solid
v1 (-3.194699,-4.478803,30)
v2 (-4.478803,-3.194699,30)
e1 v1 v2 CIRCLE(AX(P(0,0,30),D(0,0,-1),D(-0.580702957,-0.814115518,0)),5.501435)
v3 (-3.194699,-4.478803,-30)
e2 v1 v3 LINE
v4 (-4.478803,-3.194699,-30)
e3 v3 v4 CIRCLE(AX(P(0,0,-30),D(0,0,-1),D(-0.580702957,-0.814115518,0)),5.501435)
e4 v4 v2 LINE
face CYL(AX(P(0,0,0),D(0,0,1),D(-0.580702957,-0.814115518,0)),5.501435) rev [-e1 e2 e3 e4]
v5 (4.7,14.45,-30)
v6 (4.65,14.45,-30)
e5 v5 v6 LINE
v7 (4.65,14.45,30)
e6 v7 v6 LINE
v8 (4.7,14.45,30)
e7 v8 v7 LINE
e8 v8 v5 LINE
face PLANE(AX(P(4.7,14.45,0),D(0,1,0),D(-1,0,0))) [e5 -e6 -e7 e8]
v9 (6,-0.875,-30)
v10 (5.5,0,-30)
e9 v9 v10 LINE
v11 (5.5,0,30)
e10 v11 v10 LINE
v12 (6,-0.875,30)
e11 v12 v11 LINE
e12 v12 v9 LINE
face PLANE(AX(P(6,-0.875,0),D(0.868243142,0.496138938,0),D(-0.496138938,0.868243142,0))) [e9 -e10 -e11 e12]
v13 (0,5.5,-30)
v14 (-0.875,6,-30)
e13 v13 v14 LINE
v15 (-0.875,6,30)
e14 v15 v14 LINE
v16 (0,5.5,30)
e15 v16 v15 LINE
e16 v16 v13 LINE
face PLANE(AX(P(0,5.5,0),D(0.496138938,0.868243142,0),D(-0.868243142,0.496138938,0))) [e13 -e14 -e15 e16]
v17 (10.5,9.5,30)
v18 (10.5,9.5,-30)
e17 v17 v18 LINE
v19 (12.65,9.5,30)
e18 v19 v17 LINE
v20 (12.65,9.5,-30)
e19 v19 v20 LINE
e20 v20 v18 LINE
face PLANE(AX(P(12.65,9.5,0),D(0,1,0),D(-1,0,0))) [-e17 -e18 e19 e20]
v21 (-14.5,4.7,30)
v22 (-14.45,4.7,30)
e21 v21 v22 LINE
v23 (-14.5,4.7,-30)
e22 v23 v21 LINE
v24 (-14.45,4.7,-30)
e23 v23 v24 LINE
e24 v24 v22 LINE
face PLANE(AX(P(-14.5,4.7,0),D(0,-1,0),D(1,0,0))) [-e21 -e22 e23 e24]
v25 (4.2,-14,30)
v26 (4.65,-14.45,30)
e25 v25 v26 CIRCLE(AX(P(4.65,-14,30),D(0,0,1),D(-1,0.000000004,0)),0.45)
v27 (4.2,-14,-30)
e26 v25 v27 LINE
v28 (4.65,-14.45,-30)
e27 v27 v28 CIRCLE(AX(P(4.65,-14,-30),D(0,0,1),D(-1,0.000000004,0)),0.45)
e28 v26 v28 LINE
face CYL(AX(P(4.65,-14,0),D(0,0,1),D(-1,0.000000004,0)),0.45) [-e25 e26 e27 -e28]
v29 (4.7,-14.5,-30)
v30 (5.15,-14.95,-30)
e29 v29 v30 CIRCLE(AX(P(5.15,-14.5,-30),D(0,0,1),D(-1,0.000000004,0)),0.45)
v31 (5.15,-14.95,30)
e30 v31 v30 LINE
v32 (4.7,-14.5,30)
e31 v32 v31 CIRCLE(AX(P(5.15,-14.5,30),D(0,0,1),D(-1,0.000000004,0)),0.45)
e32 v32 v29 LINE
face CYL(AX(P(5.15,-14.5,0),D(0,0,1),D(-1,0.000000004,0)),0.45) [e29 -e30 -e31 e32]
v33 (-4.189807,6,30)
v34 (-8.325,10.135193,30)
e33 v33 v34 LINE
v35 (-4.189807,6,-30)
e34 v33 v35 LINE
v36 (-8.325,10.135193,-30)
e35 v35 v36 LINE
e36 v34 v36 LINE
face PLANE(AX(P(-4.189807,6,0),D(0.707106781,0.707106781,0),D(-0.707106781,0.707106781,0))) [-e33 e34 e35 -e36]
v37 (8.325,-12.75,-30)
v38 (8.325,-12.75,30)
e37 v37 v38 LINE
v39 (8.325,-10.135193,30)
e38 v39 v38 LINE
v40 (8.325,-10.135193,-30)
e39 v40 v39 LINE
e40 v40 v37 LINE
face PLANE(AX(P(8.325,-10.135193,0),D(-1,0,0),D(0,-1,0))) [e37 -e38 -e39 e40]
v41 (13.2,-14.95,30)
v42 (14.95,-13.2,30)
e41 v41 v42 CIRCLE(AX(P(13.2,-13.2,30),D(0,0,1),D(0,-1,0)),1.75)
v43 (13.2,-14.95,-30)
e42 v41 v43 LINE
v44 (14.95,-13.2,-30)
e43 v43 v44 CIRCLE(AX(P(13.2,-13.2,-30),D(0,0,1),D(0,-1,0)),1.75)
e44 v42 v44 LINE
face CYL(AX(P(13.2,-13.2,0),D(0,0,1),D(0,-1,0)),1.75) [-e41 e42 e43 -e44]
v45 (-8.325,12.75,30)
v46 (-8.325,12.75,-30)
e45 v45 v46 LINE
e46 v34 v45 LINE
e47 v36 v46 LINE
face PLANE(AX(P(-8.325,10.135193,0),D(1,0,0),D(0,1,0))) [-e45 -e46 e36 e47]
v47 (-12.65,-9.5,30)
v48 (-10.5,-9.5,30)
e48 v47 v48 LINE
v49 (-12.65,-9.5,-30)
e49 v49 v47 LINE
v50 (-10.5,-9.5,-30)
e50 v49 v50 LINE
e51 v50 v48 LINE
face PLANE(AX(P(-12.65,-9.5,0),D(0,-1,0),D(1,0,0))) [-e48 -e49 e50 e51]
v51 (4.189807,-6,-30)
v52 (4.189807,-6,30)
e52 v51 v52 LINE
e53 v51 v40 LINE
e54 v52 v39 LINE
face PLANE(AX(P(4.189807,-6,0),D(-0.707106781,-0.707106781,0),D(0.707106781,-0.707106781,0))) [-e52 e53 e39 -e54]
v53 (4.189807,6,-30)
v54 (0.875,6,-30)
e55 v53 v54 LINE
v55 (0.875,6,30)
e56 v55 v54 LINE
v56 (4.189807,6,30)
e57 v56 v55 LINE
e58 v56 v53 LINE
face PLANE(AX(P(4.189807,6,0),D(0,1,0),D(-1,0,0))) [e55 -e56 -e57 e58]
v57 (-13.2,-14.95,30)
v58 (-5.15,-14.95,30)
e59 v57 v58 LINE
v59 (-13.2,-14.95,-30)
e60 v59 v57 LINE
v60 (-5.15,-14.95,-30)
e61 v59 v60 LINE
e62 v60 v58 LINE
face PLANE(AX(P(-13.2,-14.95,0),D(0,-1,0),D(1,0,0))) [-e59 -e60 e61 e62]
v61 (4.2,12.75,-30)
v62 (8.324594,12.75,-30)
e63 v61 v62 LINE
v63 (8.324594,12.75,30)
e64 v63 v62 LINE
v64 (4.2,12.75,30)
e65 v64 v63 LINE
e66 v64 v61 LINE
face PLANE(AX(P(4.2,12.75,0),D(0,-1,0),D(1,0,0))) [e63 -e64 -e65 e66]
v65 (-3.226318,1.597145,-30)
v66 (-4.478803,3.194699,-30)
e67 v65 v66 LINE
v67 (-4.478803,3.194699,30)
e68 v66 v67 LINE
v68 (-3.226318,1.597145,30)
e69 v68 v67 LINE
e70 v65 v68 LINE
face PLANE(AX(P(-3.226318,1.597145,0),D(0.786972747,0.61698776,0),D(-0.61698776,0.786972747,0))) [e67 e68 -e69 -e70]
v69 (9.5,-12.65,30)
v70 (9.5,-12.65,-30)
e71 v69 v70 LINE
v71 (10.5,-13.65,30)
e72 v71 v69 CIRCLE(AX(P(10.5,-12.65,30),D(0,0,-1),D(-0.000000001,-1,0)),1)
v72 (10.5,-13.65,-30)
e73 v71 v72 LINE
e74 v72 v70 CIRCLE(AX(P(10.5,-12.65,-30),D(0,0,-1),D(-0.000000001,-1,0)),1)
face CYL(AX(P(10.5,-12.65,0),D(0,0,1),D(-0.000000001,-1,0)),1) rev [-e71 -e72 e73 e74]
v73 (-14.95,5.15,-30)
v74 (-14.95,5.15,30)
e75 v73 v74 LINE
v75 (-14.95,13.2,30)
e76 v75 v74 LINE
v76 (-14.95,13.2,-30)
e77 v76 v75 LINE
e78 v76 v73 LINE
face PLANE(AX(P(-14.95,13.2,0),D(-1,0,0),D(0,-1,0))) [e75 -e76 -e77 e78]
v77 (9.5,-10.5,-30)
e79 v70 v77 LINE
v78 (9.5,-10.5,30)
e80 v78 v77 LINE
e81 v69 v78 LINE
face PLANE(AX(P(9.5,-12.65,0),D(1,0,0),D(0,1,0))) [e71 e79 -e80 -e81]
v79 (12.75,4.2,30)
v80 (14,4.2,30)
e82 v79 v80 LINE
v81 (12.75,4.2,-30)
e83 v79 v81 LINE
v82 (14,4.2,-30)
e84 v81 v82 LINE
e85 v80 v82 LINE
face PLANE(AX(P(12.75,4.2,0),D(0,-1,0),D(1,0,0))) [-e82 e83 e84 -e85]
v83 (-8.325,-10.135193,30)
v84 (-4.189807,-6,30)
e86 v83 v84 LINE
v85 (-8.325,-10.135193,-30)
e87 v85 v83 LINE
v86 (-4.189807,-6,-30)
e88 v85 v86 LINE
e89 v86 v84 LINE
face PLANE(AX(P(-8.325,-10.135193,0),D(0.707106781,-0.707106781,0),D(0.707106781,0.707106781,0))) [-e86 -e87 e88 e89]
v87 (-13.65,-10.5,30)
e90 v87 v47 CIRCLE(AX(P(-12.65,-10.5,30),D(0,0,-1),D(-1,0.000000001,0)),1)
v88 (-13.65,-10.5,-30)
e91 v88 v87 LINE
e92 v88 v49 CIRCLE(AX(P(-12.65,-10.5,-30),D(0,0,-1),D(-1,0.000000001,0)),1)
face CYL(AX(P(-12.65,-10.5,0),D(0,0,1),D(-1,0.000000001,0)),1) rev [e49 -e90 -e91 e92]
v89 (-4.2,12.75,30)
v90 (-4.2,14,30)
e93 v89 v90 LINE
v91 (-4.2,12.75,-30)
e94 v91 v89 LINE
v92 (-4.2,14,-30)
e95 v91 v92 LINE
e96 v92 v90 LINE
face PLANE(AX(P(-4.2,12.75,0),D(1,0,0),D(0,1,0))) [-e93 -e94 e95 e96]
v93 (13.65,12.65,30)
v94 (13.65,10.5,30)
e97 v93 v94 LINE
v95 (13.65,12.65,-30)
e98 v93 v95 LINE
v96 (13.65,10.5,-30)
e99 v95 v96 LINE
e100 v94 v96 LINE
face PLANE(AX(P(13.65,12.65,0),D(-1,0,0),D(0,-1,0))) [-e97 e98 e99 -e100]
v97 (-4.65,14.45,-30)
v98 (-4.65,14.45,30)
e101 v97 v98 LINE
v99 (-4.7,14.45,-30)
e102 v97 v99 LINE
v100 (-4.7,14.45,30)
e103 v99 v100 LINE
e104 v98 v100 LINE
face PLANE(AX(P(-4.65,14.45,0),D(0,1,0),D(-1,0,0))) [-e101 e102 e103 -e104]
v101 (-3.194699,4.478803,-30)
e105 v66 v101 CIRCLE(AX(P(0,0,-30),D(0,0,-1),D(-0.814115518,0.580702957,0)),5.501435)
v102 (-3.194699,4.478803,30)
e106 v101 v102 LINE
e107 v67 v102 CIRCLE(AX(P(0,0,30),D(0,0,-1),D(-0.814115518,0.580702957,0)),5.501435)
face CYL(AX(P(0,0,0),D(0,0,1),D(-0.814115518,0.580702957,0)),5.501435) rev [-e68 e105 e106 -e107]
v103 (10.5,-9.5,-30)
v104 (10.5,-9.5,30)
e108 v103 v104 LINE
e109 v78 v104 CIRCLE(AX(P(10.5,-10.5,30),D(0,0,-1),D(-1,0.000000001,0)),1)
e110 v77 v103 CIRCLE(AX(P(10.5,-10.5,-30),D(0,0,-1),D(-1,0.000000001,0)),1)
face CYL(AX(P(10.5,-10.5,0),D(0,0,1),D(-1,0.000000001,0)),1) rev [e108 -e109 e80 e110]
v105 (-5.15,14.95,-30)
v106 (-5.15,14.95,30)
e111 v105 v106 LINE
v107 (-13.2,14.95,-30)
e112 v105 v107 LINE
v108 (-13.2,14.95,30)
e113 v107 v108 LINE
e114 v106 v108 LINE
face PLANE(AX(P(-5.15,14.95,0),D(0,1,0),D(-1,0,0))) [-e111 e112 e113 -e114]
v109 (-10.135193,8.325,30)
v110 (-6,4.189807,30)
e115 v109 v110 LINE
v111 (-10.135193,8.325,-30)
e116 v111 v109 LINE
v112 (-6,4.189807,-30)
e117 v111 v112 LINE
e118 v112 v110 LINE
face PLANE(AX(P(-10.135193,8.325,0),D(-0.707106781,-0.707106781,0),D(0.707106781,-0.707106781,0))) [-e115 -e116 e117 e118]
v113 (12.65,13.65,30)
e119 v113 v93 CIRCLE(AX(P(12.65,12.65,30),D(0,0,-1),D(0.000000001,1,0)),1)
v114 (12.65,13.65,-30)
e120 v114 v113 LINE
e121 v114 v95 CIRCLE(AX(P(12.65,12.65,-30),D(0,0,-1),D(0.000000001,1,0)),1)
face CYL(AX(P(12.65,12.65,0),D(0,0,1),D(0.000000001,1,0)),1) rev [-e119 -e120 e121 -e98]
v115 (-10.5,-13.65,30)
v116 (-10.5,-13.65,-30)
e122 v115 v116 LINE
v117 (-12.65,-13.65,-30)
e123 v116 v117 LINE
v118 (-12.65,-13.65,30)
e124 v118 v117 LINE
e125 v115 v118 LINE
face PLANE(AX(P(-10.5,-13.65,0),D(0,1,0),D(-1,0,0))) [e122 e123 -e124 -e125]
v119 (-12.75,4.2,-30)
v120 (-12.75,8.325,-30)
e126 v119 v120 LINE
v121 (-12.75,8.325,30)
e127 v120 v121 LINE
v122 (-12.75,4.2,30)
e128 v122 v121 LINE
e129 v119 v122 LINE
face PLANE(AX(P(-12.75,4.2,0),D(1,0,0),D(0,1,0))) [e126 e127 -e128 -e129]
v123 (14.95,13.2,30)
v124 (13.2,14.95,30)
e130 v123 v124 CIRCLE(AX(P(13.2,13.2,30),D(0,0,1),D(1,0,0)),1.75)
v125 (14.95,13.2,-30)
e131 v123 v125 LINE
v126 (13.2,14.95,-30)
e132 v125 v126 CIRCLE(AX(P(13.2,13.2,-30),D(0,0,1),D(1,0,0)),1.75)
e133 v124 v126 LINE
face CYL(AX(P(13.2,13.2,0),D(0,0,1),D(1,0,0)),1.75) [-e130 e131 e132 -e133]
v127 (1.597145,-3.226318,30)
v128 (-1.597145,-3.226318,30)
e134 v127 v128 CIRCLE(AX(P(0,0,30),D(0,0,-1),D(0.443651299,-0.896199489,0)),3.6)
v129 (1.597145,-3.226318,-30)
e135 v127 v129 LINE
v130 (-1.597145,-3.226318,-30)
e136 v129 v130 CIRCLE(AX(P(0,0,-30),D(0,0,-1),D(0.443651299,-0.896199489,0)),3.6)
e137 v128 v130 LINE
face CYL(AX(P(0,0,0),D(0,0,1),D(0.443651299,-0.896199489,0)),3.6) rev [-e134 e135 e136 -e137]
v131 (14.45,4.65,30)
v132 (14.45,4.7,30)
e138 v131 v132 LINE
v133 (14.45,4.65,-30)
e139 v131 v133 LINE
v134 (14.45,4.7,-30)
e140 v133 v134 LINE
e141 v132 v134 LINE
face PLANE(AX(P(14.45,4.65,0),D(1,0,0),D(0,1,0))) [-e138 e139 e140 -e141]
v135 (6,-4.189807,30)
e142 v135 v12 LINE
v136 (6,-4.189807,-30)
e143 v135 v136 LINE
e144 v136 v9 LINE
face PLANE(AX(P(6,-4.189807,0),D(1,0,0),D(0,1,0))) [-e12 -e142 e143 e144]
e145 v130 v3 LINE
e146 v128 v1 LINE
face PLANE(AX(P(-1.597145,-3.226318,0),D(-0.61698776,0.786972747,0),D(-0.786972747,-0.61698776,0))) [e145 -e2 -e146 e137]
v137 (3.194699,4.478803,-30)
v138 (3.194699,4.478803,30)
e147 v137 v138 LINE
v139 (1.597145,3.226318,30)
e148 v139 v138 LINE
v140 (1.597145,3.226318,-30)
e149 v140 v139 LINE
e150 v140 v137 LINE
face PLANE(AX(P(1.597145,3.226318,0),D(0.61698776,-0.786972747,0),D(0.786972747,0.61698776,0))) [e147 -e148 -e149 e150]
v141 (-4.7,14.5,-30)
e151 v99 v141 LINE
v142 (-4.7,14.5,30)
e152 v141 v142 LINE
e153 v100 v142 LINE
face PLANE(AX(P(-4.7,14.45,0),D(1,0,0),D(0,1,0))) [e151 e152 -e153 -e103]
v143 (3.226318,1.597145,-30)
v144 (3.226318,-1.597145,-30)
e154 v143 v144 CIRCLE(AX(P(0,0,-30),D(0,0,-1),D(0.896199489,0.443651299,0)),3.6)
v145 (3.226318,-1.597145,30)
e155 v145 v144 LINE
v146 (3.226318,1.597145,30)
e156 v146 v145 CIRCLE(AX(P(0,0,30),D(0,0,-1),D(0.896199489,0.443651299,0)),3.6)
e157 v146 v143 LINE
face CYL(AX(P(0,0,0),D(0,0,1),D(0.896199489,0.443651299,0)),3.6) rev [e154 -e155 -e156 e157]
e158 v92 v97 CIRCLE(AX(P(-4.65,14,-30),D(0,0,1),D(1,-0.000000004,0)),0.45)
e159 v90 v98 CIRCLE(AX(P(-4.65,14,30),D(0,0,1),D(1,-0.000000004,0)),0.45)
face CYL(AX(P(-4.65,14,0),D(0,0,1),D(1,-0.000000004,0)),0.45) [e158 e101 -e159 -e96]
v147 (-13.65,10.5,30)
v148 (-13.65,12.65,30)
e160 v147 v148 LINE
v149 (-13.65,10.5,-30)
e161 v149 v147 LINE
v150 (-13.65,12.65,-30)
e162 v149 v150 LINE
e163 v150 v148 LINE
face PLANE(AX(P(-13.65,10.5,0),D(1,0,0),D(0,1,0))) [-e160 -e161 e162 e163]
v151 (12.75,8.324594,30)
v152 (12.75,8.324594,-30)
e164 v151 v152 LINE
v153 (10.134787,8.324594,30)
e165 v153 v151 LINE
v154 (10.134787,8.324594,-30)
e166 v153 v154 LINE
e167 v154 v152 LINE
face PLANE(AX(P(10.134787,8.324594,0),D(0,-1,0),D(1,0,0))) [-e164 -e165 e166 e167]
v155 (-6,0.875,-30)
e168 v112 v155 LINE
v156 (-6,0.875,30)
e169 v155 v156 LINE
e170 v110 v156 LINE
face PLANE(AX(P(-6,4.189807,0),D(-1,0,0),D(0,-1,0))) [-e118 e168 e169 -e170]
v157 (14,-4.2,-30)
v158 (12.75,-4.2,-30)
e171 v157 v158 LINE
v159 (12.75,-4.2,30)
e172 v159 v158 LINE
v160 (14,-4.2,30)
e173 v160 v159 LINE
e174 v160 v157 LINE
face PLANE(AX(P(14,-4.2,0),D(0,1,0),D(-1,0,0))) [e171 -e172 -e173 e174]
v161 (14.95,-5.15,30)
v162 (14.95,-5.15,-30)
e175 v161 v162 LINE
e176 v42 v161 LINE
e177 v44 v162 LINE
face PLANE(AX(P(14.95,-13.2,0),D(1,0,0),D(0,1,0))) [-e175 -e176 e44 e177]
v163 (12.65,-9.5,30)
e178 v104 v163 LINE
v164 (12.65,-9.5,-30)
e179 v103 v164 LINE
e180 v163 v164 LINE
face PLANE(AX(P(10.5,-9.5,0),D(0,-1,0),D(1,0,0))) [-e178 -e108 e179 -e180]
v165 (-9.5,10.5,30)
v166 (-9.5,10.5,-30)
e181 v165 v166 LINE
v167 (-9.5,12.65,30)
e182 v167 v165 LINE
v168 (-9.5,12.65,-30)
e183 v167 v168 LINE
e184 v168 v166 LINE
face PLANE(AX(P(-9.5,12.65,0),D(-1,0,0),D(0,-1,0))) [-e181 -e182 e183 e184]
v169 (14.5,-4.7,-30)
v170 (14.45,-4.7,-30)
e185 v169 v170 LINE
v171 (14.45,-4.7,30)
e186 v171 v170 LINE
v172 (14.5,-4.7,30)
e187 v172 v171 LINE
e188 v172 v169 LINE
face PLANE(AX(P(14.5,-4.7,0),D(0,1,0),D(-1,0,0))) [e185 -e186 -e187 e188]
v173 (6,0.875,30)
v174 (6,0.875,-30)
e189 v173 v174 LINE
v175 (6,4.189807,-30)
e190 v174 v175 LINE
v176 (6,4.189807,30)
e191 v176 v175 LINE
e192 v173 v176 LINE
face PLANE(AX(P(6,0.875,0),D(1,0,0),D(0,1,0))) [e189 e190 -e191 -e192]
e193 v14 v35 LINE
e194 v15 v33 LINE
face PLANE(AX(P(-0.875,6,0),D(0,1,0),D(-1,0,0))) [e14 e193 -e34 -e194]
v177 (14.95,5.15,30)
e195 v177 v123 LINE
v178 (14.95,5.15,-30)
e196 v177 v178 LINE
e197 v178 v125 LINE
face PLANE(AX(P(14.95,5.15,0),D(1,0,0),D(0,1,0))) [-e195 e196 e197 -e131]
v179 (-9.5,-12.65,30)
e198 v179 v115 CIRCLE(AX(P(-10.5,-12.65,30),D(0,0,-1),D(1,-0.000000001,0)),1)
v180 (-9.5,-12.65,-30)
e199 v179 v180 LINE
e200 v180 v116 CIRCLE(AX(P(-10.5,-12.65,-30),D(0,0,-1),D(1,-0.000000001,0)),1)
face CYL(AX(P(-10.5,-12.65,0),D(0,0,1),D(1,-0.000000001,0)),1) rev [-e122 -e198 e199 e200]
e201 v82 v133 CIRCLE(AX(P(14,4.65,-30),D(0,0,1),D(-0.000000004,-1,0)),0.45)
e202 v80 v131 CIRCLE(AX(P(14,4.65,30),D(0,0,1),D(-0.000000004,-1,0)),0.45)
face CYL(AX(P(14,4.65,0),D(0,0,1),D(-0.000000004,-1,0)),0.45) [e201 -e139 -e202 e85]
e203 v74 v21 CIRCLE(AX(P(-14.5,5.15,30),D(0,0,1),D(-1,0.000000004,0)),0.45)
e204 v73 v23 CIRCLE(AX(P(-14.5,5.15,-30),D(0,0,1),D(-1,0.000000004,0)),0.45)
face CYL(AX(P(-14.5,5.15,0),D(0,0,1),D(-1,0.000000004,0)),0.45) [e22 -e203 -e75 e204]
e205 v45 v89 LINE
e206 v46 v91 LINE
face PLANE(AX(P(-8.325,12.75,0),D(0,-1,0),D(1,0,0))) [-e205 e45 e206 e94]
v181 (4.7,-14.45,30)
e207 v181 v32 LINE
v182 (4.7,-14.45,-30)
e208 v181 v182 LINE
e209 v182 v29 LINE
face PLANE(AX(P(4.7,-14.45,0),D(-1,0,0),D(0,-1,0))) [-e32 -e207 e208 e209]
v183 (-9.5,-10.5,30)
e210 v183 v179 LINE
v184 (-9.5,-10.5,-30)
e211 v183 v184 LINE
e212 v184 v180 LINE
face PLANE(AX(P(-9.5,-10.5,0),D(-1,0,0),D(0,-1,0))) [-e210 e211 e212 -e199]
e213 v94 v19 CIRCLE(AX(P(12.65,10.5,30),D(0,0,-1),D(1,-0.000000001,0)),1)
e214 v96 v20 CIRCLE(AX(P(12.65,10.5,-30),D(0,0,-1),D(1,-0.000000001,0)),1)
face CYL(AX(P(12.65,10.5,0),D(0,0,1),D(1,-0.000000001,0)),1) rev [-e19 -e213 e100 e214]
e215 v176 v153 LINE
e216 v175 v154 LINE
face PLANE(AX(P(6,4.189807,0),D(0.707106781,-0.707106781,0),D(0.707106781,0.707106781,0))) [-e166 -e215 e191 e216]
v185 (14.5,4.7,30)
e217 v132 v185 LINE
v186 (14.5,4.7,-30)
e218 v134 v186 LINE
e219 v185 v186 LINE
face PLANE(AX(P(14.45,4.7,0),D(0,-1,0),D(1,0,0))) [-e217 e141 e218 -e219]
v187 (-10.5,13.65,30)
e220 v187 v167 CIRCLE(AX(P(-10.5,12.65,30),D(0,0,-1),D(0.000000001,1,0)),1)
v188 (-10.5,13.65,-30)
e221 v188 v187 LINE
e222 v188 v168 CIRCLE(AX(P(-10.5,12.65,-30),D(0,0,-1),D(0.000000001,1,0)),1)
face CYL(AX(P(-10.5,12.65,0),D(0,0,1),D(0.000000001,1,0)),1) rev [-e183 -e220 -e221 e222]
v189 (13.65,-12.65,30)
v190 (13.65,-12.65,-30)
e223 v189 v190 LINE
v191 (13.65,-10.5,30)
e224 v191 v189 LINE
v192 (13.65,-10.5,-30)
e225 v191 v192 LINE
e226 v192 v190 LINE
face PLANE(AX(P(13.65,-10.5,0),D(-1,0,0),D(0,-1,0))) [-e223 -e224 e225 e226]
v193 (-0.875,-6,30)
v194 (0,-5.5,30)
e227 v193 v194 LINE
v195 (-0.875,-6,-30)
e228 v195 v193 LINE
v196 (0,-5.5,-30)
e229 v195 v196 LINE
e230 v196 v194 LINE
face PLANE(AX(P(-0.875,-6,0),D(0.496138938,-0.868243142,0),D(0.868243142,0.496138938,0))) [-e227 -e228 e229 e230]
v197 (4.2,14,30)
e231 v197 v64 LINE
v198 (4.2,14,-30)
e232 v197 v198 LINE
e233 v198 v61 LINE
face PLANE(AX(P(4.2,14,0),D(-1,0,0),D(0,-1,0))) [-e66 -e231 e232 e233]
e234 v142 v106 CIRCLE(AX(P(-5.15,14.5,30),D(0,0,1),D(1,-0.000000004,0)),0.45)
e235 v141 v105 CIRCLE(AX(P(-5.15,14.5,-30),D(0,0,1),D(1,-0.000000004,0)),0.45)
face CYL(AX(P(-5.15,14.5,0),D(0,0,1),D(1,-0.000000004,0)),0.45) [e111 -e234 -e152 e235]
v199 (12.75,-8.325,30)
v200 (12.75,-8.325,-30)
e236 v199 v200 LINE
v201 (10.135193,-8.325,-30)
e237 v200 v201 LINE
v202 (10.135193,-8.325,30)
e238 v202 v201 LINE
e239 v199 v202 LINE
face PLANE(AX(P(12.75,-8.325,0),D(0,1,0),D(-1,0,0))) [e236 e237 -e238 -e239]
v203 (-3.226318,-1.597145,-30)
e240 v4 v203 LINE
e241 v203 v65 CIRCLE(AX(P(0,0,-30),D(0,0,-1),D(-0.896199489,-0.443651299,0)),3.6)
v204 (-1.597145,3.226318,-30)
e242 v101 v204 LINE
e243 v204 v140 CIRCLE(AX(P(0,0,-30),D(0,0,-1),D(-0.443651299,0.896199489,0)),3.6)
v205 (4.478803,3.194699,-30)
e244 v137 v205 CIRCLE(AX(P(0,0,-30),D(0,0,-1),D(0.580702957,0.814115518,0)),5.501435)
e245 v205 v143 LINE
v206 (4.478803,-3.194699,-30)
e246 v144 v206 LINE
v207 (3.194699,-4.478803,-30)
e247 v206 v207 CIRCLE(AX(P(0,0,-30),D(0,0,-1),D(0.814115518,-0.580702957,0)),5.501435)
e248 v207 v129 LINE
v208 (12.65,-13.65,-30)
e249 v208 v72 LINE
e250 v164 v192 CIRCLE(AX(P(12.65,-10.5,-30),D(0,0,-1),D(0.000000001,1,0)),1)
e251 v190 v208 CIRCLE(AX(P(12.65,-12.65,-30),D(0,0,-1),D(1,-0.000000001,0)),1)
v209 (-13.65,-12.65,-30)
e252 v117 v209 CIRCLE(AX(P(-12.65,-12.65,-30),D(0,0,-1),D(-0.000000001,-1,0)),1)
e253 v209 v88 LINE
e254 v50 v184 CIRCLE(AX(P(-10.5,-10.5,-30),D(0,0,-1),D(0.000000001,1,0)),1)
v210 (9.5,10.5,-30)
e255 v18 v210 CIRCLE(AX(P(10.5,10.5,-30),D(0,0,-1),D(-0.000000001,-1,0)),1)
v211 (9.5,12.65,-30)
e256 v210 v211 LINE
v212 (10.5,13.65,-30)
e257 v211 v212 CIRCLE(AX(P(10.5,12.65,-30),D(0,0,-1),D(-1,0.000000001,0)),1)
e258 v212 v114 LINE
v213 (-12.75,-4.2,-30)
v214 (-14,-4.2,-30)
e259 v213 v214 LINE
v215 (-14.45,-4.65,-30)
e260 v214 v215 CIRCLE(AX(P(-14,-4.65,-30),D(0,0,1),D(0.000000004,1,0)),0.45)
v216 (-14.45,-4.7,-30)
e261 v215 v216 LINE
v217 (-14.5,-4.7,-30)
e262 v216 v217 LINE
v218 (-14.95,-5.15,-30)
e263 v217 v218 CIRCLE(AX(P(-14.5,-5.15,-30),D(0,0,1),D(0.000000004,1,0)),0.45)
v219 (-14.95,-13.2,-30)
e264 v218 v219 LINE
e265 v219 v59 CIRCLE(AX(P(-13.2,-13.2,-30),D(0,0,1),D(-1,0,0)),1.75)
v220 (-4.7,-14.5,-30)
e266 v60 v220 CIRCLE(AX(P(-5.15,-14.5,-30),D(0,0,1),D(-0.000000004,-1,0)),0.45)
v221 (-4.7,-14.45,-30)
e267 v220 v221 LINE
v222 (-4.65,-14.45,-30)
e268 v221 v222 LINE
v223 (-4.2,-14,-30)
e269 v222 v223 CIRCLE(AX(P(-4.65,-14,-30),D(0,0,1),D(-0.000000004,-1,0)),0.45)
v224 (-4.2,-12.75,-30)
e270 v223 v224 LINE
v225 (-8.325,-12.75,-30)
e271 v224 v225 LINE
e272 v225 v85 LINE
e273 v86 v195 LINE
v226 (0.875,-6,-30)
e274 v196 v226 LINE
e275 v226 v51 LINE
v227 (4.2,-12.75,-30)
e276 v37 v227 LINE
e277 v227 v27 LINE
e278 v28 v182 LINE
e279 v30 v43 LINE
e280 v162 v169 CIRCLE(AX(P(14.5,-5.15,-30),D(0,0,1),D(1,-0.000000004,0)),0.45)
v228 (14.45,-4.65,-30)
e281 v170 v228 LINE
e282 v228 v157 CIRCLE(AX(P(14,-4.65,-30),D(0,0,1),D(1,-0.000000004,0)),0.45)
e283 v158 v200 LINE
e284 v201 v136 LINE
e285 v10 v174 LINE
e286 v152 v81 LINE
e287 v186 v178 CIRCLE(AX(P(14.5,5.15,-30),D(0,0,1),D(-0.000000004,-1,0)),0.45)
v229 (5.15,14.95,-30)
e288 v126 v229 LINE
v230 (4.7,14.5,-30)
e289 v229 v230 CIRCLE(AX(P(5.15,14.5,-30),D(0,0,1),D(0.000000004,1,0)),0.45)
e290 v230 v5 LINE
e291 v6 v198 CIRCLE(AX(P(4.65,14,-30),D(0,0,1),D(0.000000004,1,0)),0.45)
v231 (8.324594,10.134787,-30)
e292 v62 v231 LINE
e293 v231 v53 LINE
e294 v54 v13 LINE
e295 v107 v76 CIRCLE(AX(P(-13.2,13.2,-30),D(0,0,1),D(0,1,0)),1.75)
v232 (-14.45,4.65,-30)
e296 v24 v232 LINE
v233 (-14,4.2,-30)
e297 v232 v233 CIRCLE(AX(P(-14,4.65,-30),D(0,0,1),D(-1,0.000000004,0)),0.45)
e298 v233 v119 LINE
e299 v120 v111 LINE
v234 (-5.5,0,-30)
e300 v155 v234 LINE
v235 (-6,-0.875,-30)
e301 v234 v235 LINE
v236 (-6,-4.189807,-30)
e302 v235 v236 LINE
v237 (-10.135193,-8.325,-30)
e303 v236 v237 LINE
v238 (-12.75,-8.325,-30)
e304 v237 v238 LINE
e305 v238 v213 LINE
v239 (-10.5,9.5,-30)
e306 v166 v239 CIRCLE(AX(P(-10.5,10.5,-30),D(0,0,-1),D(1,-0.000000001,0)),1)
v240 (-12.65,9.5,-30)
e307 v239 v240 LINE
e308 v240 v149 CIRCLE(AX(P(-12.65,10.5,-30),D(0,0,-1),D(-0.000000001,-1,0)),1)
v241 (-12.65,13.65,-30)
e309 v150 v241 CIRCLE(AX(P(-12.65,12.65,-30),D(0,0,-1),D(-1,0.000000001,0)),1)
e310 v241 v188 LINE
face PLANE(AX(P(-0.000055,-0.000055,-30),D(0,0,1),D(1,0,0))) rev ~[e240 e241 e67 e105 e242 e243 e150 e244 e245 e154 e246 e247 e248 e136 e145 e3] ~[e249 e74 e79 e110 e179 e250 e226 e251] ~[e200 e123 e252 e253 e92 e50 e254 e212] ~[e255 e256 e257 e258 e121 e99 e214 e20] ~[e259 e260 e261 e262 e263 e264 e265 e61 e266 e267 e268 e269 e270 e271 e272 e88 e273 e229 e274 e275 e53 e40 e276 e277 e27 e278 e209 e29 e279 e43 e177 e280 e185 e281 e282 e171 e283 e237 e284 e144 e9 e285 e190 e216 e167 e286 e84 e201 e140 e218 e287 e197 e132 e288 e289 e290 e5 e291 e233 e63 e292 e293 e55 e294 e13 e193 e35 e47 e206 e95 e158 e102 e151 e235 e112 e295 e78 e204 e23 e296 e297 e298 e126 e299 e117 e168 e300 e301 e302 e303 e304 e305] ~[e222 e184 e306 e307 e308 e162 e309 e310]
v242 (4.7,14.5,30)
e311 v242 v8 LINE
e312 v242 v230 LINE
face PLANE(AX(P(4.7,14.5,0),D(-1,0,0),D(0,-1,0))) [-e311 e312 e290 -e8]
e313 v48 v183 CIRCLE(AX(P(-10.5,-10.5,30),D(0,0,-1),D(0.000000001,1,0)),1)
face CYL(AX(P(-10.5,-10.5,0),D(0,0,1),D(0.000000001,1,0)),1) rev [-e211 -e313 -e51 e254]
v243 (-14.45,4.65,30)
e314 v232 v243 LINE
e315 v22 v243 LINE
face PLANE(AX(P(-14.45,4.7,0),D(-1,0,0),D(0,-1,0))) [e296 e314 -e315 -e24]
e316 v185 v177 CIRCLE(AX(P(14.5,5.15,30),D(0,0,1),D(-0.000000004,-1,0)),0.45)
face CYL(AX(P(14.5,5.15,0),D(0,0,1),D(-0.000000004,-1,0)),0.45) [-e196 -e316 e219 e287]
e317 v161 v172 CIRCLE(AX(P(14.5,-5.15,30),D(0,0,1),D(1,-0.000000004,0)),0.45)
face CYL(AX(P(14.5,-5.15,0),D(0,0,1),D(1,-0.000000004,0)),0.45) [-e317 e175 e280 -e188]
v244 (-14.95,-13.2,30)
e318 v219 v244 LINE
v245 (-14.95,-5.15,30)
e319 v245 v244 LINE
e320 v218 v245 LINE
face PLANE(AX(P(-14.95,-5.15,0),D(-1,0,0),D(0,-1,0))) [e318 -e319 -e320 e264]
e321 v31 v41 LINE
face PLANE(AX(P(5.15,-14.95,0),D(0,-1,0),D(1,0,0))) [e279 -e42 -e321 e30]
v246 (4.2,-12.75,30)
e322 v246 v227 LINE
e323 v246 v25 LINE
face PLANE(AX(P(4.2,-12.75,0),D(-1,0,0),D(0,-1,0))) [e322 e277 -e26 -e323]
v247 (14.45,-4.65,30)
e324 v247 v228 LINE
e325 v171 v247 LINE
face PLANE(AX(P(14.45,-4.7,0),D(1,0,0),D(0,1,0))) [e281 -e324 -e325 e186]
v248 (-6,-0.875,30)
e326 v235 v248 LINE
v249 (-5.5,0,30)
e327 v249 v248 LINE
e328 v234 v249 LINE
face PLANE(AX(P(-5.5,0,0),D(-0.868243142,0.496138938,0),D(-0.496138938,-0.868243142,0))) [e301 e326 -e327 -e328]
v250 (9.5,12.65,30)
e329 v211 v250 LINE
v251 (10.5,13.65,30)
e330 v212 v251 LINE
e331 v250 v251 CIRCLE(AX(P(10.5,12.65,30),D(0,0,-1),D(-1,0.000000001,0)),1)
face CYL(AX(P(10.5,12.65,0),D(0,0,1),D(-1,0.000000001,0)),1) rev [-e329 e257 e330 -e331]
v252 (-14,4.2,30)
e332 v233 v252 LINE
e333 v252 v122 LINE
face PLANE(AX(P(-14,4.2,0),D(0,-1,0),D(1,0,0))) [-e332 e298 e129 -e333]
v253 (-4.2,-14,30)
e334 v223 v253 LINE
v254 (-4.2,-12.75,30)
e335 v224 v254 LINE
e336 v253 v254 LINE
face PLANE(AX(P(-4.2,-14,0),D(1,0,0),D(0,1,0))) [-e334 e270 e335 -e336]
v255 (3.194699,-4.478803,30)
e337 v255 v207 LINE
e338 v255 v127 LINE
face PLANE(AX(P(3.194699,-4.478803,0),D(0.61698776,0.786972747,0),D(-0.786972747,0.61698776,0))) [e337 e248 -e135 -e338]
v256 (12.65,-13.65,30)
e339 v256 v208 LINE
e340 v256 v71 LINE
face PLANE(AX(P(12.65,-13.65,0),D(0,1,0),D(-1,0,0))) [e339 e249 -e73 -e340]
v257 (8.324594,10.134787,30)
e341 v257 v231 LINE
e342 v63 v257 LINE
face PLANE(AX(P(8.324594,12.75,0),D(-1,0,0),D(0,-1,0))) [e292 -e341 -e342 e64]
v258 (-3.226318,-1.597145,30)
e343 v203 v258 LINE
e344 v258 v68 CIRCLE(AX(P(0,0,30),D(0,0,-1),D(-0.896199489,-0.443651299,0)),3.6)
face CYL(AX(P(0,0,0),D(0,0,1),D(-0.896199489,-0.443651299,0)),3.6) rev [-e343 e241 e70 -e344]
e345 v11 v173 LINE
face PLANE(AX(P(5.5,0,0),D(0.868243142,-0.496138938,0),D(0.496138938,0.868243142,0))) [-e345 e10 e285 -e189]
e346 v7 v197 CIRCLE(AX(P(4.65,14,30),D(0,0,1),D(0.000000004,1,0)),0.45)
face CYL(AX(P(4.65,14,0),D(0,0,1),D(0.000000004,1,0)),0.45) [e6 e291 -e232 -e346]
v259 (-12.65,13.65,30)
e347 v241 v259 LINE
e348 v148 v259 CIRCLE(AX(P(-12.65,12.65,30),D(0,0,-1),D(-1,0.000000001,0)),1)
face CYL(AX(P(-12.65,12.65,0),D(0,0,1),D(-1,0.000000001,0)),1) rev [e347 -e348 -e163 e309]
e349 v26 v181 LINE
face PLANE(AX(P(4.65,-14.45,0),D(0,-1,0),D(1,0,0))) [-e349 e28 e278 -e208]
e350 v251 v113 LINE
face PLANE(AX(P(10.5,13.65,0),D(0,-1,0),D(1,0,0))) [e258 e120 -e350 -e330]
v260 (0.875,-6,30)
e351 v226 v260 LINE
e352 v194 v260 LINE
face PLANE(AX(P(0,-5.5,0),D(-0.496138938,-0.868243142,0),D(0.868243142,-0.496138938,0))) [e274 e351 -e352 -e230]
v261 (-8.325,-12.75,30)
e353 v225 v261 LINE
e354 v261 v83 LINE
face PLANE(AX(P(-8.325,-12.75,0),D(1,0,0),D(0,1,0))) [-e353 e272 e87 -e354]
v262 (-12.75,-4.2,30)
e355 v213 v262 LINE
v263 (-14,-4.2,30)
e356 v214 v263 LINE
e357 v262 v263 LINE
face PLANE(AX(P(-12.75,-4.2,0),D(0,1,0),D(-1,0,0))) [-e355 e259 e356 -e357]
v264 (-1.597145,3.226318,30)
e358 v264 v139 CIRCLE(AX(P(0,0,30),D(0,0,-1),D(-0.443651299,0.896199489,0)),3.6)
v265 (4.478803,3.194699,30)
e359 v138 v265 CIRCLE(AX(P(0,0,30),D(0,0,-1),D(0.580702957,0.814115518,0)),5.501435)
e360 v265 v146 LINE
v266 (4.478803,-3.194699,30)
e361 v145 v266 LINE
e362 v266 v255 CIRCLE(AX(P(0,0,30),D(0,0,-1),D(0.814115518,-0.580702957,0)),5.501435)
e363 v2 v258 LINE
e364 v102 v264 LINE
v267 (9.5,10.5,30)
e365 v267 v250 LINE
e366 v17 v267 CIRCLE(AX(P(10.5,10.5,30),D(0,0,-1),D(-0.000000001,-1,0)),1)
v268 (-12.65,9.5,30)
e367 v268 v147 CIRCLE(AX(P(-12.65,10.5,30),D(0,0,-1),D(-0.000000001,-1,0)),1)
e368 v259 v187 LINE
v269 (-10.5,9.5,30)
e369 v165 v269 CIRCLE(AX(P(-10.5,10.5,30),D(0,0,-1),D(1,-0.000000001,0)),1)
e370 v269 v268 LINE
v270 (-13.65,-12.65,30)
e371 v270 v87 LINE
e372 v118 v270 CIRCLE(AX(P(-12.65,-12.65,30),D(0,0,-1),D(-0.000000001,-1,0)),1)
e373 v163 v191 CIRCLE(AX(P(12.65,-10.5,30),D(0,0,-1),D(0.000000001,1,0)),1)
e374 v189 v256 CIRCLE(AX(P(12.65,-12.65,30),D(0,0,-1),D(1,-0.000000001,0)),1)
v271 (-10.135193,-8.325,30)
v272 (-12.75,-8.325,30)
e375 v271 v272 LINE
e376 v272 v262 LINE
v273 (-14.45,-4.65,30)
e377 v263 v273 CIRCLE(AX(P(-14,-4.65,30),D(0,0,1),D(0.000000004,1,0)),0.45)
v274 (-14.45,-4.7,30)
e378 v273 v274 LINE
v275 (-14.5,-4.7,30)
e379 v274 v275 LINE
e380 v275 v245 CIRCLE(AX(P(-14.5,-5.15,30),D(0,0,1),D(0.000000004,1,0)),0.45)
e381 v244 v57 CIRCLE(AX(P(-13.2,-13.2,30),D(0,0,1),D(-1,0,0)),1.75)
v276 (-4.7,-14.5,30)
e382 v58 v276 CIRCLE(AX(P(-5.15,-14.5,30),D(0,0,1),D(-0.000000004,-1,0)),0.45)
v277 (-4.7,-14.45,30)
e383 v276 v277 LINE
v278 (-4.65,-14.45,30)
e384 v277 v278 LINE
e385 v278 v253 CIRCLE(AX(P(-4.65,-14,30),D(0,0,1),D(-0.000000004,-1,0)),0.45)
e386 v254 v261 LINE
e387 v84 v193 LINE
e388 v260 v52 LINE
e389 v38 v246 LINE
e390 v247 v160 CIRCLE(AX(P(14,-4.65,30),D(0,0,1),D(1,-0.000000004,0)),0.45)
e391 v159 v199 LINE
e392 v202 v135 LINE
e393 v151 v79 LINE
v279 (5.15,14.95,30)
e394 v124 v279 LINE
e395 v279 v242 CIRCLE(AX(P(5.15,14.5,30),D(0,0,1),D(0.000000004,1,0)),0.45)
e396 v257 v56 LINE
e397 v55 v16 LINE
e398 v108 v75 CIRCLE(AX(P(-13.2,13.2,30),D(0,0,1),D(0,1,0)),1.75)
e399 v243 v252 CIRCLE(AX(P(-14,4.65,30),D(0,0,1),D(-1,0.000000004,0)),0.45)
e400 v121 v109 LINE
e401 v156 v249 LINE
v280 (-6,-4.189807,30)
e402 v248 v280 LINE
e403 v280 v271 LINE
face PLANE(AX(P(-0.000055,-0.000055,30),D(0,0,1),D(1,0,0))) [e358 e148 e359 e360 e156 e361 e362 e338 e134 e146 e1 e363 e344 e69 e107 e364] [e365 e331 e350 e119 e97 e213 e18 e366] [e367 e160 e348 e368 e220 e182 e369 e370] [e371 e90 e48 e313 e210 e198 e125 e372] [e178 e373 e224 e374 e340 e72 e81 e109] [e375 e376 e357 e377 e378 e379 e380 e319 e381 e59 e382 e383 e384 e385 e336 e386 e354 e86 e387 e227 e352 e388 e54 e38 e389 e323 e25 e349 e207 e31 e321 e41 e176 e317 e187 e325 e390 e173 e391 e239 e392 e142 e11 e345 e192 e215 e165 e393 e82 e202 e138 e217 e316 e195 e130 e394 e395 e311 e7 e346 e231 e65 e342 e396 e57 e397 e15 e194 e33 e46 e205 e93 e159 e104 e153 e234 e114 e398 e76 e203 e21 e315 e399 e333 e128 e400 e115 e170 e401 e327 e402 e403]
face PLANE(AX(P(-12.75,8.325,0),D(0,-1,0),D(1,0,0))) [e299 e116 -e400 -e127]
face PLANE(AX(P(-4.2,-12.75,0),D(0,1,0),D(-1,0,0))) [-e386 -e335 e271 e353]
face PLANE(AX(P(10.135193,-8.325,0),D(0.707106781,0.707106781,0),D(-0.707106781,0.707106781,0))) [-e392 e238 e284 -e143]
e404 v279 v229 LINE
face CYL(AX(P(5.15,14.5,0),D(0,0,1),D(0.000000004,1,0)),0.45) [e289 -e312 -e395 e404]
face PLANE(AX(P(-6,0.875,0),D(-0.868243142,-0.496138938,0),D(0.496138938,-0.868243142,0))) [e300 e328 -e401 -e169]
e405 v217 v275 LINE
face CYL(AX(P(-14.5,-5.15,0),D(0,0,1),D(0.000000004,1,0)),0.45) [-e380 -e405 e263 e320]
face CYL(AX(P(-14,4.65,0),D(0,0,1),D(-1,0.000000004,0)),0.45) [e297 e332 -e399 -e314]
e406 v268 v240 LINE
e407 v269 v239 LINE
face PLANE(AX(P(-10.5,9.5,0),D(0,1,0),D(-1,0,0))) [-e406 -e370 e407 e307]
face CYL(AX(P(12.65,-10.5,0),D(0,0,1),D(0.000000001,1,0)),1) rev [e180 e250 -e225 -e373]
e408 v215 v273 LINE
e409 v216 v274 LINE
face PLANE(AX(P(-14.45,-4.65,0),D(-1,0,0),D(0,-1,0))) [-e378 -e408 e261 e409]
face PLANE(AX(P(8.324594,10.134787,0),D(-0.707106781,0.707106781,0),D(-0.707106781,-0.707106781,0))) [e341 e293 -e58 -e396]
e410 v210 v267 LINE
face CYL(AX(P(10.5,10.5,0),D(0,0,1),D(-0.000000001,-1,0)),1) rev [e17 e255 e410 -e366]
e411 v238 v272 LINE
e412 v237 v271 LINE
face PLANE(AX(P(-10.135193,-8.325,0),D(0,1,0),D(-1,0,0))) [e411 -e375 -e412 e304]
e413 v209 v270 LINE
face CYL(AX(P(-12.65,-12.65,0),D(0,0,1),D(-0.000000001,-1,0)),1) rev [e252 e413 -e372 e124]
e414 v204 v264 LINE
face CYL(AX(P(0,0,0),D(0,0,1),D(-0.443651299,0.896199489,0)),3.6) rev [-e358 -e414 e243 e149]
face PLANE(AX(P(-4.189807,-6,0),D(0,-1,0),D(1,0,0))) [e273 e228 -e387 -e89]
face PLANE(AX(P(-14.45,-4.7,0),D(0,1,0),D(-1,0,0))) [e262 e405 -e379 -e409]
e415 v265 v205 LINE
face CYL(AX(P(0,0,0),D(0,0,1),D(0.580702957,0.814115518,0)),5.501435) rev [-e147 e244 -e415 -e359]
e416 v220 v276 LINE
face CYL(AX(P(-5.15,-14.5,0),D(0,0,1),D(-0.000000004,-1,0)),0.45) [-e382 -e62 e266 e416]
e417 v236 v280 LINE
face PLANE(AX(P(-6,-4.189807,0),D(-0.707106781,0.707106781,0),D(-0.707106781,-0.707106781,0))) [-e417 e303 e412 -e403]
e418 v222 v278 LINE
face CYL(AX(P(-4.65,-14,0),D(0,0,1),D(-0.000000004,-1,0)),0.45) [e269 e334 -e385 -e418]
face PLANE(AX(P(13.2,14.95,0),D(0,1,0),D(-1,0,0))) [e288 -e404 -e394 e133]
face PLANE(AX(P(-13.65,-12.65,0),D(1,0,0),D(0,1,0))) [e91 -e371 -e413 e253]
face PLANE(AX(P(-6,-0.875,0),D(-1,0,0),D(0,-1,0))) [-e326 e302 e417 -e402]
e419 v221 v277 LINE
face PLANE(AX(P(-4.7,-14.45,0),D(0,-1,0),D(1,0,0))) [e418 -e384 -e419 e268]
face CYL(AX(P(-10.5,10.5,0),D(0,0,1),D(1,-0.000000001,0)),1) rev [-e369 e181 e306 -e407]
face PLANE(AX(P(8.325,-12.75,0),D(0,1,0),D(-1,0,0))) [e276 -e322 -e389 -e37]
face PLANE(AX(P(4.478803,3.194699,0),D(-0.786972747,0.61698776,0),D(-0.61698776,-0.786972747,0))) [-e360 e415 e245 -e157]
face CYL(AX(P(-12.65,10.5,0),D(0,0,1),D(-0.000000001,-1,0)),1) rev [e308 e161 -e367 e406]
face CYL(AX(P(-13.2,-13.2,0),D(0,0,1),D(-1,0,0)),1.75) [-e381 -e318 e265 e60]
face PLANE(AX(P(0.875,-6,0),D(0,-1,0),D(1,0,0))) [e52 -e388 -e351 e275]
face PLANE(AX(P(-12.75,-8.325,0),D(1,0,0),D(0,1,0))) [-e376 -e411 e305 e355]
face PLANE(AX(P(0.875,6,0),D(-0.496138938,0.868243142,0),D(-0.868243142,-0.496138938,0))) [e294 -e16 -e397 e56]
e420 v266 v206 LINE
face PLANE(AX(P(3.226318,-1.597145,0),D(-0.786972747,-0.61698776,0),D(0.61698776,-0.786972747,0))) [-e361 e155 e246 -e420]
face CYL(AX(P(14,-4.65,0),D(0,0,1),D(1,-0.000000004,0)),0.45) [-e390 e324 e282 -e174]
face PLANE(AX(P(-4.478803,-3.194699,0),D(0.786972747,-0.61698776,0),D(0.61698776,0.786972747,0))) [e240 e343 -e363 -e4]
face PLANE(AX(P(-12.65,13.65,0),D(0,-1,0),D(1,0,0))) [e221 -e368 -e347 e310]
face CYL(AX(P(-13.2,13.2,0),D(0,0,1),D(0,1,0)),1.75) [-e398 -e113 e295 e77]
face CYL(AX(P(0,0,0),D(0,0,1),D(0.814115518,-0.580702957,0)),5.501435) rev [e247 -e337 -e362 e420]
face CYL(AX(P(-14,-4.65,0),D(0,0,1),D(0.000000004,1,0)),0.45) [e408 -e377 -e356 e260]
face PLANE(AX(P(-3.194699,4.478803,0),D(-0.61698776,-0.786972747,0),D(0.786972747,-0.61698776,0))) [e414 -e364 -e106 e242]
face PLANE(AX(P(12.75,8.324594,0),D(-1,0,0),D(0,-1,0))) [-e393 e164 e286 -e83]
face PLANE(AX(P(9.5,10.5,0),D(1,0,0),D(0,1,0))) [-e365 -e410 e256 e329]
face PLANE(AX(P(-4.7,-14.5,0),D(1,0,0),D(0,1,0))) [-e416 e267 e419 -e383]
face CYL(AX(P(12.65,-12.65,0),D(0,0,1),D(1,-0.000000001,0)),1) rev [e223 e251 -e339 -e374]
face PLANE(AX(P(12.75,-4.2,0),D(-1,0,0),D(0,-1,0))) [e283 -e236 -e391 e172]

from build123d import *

# Parameters (mm, degrees)
BOSS_EXTRUDE1_DEPTH = 30


with BuildPart() as part:
    # Sketch1 → Boss-Extrude1 (new body, symmetric)
    with BuildSketch(Plane.XY):
        with BuildLine():
            Line((-8.325, 12.75), (-4.2, 12.75))
            Line((-4.2, 12.75), (-4.2, 14))
            ThreePointArc((-4.2, 14), (-4.331801948, 14.318198052), (-4.65, 14.45))
            Line((-4.65, 14.45), (-4.7, 14.45))
            Line((-4.7, 14.45), (-4.7, 14.5))
            ThreePointArc((-4.7, 14.5), (-4.831801948, 14.818198052), (-5.15, 14.95))
            Line((-5.15, 14.95), (-13.2, 14.95))
            ThreePointArc((-13.2, 14.95), (-14.437436867, 14.437436867), (-14.95, 13.2))
            Line((-14.95, 13.2), (-14.95, 5.15))
            ThreePointArc((-14.95, 5.15), (-14.818198052, 4.831801948), (-14.5, 4.7))
            Line((-14.5, 4.7), (-14.45, 4.7))
            Line((-14.45, 4.7), (-14.45, 4.65))
            ThreePointArc((-14.45, 4.65), (-14.318198052, 4.331801948), (-14, 4.2))
            Line((-14, 4.2), (-12.75, 4.2))
            Line((-12.75, 4.2), (-12.75, 8.325))
            Line((-12.75, 8.325), (-10.13519336, 8.325))
            Line((-10.13519336, 8.325), (-6, 4.18980664))
            Line((-6, 4.18980664), (-6, 0.875))
            Line((-6, 0.875), (-5.5, 0))
            Line((-5.5, 0), (-6, -0.875))
            Line((-6, -0.875), (-6, -4.18980664))
            Line((-6, -4.18980664), (-10.13519336, -8.325))
            Line((-10.13519336, -8.325), (-12.75, -8.325))
            Line((-12.75, -8.325), (-12.75, -4.2))
            Line((-12.75, -4.2), (-14, -4.2))
            ThreePointArc((-14, -4.2), (-14.318198052, -4.331801948), (-14.45, -4.65))
            Line((-14.45, -4.65), (-14.45, -4.7))
            Line((-14.45, -4.7), (-14.5, -4.7))
            ThreePointArc((-14.5, -4.7), (-14.818198052, -4.831801948), (-14.95, -5.15))
            Line((-14.95, -5.15), (-14.95, -13.2))
            ThreePointArc((-14.95, -13.2), (-14.437436867, -14.437436867), (-13.2, -14.95))
            Line((-13.2, -14.95), (-5.15, -14.95))
            ThreePointArc((-5.15, -14.95), (-4.831801948, -14.818198052), (-4.7, -14.5))
            Line((-4.7, -14.5), (-4.7, -14.45))
            Line((-4.7, -14.45), (-4.65, -14.45))
            ThreePointArc((-4.65, -14.45), (-4.331801948, -14.318198052), (-4.2, -14))
            Line((-4.2, -14), (-4.2, -12.75))
            Line((-4.2, -12.75), (-8.325, -12.75))
            Line((-8.325, -12.75), (-8.325, -10.13519336))
            Line((-8.325, -10.13519336), (-4.18980664, -6))
            Line((-4.18980664, -6), (-0.875, -6))
            Line((-0.875, -6), (0, -5.5))
            Line((0, -5.5), (0.875, -6))
            Line((0.875, -6), (4.18980664, -6))
            Line((4.18980664, -6), (8.325, -10.13519336))
            Line((8.325, -10.13519336), (8.325, -12.75))
            Line((8.325, -12.75), (4.2, -12.75))
            Line((4.2, -12.75), (4.2, -14))
            ThreePointArc((4.2, -14), (4.331801948, -14.318198052), (4.65, -14.45))
            Line((4.65, -14.45), (4.7, -14.45))
            Line((4.7, -14.45), (4.7, -14.5))
            ThreePointArc((4.7, -14.5), (4.831801948, -14.818198052), (5.15, -14.95))
            Line((5.15, -14.95), (13.2, -14.95))
            ThreePointArc((13.2, -14.95), (14.437436867, -14.437436867), (14.95, -13.2))
            Line((14.95, -13.2), (14.95, -5.15))
            ThreePointArc((14.95, -5.15), (14.818198052, -4.831801948), (14.5, -4.7))
            Line((14.5, -4.7), (14.45, -4.7))
            Line((14.45, -4.7), (14.45, -4.65))
            ThreePointArc((14.45, -4.65), (14.318198052, -4.331801948), (14, -4.2))
            Line((14, -4.2), (12.75, -4.2))
            Line((12.75, -4.2), (12.75, -8.325))
            Line((12.75, -8.325), (10.13519336, -8.325))
            Line((10.13519336, -8.325), (6, -4.18980664))
            Line((6, -4.18980664), (6, -0.875))
            Line((6, -0.875), (5.5, 0))
            Line((5.5, 0), (6, 0.875))
            Line((6, 0.875), (6, 4.18980664))
            Line((6, 4.18980664), (10.134787333, 8.324593973))
            Line((10.134787333, 8.324593973), (12.75, 8.324593973))
            Line((12.75, 8.324593973), (12.75, 4.2))
            Line((12.75, 4.2), (14, 4.2))
            ThreePointArc((14, 4.2), (14.318198052, 4.331801948), (14.45, 4.65))
            Line((14.45, 4.65), (14.45, 4.7))
            Line((14.45, 4.7), (14.5, 4.7))
            ThreePointArc((14.5, 4.7), (14.818198052, 4.831801948), (14.95, 5.15))
            Line((14.95, 5.15), (14.95, 13.2))
            ThreePointArc((14.95, 13.2), (14.437436867, 14.437436867), (13.2, 14.95))
            Line((13.2, 14.95), (5.15, 14.95))
            ThreePointArc((5.15, 14.95), (4.831801948, 14.818198052), (4.7, 14.5))
            Line((4.7, 14.5), (4.7, 14.45))
            Line((4.7, 14.45), (4.65, 14.45))
            ThreePointArc((4.65, 14.45), (4.331801948, 14.318198052), (4.2, 14))
            Line((4.2, 14), (4.2, 12.75))
            Line((4.2, 12.75), (8.324593973, 12.75))
            Line((8.324593973, 12.75), (8.324593973, 10.134787333))
            Line((8.324593973, 10.134787333), (4.18980664, 6))
            Line((4.18980664, 6), (0.875, 6))
            Line((0.875, 6), (0, 5.5))
            Line((0, 5.5), (-0.875, 6))
            Line((-0.875, 6), (-4.18980664, 6))
            Line((-4.18980664, 6), (-8.325, 10.13519336))
            Line((-8.325, 10.13519336), (-8.325, 12.75))
        make_face()
        with BuildLine():
            Line((-4.478803313, -3.194699355), (-3.226318161, -1.597144679))
            ThreePointArc((-3.226318161, -1.597144679), (-3.6, 0), (-3.226318161, 1.597144679))
            Line((-3.226318161, 1.597144679), (-4.478803313, 3.194699355))
            ThreePointArc((-4.478803313, 3.194699355), (-3.890101739, 3.890101739), (-3.194699355, 4.478803313))
            Line((-3.194699355, 4.478803313), (-1.597144679, 3.226318161))
            ThreePointArc((-1.597144679, 3.226318161), (0, 3.6), (1.597144679, 3.226318161))
            Line((1.597144679, 3.226318161), (3.194699355, 4.478803313))
            ThreePointArc((3.194699355, 4.478803313), (3.890101739, 3.890101739), (4.478803313, 3.194699355))
            Line((4.478803313, 3.194699355), (3.226318161, 1.597144679))
            ThreePointArc((3.226318161, 1.597144679), (3.6, 0), (3.226318161, -1.597144679))
            Line((3.226318161, -1.597144679), (4.478803313, -3.194699355))
            ThreePointArc((4.478803313, -3.194699355), (3.890101739, -3.890101739), (3.194699355, -4.478803313))
            Line((3.194699355, -4.478803313), (1.597144679, -3.226318161))
            ThreePointArc((1.597144679, -3.226318161), (0, -3.6), (-1.597144679, -3.226318161))
            Line((-1.597144679, -3.226318161), (-3.194699355, -4.478803313))
            ThreePointArc((-3.194699355, -4.478803313), (-3.890101739, -3.890101739), (-4.478803313, -3.194699355))
        make_face(mode=Mode.SUBTRACT)
        with BuildLine():
            Line((-13.65, -12.65), (-13.65, -10.5))
            ThreePointArc((-13.65, -10.5), (-13.357106781, -9.792893219), (-12.65, -9.5))
            Line((-12.65, -9.5), (-10.5, -9.5))
            ThreePointArc((-10.5, -9.5), (-9.792893219, -9.792893219), (-9.5, -10.5))
            Line((-9.5, -10.5), (-9.5, -12.65))
            ThreePointArc((-9.5, -12.65), (-9.792893219, -13.357106781), (-10.5, -13.65))
            Line((-10.5, -13.65), (-12.65, -13.65))
            ThreePointArc((-12.65, -13.65), (-13.357106781, -13.357106781), (-13.65, -12.65))
        make_face(mode=Mode.SUBTRACT)
        with BuildLine():
            Line((9.5, 10.5), (9.5, 12.65))
            ThreePointArc((9.5, 12.65), (9.792893219, 13.357106781), (10.5, 13.65))
            Line((10.5, 13.65), (12.65, 13.65))
            ThreePointArc((12.65, 13.65), (13.357106781, 13.357106781), (13.65, 12.65))
            Line((13.65, 12.65), (13.65, 10.5))
            ThreePointArc((13.65, 10.5), (13.357106781, 9.792893219), (12.65, 9.5))
            Line((12.65, 9.5), (10.5, 9.5))
            ThreePointArc((10.5, 9.5), (9.792893219, 9.792893219), (9.5, 10.5))
        make_face(mode=Mode.SUBTRACT)
        with BuildLine():
            Line((-13.65, 10.5), (-13.65, 12.65))
            ThreePointArc((-13.65, 12.65), (-13.357106781, 13.357106781), (-12.65, 13.65))
            Line((-12.65, 13.65), (-10.5, 13.65))
            ThreePointArc((-10.5, 13.65), (-9.792893219, 13.357106781), (-9.5, 12.65))
            Line((-9.5, 12.65), (-9.5, 10.5))
            ThreePointArc((-9.5, 10.5), (-9.792893219, 9.792893219), (-10.5, 9.5))
            Line((-10.5, 9.5), (-12.65, 9.5))
            ThreePointArc((-12.65, 9.5), (-13.357106781, 9.792893219), (-13.65, 10.5))
        make_face(mode=Mode.SUBTRACT)
        with BuildLine():
            Line((10.5, -9.5), (12.65, -9.5))
            ThreePointArc((12.65, -9.5), (13.357106781, -9.792893219), (13.65, -10.5))
            Line((13.65, -10.5), (13.65, -12.65))
            ThreePointArc((13.65, -12.65), (13.357106781, -13.357106781), (12.65, -13.65))
            Line((12.65, -13.65), (10.5, -13.65))
            ThreePointArc((10.5, -13.65), (9.792893219, -13.357106781), (9.5, -12.65))
            Line((9.5, -12.65), (9.5, -10.5))
            ThreePointArc((9.5, -10.5), (9.792893219, -9.792893219), (10.5, -9.5))
        make_face(mode=Mode.SUBTRACT)
    extrude(amount=BOSS_EXTRUDE1_DEPTH, both=True)


solid = part.part
